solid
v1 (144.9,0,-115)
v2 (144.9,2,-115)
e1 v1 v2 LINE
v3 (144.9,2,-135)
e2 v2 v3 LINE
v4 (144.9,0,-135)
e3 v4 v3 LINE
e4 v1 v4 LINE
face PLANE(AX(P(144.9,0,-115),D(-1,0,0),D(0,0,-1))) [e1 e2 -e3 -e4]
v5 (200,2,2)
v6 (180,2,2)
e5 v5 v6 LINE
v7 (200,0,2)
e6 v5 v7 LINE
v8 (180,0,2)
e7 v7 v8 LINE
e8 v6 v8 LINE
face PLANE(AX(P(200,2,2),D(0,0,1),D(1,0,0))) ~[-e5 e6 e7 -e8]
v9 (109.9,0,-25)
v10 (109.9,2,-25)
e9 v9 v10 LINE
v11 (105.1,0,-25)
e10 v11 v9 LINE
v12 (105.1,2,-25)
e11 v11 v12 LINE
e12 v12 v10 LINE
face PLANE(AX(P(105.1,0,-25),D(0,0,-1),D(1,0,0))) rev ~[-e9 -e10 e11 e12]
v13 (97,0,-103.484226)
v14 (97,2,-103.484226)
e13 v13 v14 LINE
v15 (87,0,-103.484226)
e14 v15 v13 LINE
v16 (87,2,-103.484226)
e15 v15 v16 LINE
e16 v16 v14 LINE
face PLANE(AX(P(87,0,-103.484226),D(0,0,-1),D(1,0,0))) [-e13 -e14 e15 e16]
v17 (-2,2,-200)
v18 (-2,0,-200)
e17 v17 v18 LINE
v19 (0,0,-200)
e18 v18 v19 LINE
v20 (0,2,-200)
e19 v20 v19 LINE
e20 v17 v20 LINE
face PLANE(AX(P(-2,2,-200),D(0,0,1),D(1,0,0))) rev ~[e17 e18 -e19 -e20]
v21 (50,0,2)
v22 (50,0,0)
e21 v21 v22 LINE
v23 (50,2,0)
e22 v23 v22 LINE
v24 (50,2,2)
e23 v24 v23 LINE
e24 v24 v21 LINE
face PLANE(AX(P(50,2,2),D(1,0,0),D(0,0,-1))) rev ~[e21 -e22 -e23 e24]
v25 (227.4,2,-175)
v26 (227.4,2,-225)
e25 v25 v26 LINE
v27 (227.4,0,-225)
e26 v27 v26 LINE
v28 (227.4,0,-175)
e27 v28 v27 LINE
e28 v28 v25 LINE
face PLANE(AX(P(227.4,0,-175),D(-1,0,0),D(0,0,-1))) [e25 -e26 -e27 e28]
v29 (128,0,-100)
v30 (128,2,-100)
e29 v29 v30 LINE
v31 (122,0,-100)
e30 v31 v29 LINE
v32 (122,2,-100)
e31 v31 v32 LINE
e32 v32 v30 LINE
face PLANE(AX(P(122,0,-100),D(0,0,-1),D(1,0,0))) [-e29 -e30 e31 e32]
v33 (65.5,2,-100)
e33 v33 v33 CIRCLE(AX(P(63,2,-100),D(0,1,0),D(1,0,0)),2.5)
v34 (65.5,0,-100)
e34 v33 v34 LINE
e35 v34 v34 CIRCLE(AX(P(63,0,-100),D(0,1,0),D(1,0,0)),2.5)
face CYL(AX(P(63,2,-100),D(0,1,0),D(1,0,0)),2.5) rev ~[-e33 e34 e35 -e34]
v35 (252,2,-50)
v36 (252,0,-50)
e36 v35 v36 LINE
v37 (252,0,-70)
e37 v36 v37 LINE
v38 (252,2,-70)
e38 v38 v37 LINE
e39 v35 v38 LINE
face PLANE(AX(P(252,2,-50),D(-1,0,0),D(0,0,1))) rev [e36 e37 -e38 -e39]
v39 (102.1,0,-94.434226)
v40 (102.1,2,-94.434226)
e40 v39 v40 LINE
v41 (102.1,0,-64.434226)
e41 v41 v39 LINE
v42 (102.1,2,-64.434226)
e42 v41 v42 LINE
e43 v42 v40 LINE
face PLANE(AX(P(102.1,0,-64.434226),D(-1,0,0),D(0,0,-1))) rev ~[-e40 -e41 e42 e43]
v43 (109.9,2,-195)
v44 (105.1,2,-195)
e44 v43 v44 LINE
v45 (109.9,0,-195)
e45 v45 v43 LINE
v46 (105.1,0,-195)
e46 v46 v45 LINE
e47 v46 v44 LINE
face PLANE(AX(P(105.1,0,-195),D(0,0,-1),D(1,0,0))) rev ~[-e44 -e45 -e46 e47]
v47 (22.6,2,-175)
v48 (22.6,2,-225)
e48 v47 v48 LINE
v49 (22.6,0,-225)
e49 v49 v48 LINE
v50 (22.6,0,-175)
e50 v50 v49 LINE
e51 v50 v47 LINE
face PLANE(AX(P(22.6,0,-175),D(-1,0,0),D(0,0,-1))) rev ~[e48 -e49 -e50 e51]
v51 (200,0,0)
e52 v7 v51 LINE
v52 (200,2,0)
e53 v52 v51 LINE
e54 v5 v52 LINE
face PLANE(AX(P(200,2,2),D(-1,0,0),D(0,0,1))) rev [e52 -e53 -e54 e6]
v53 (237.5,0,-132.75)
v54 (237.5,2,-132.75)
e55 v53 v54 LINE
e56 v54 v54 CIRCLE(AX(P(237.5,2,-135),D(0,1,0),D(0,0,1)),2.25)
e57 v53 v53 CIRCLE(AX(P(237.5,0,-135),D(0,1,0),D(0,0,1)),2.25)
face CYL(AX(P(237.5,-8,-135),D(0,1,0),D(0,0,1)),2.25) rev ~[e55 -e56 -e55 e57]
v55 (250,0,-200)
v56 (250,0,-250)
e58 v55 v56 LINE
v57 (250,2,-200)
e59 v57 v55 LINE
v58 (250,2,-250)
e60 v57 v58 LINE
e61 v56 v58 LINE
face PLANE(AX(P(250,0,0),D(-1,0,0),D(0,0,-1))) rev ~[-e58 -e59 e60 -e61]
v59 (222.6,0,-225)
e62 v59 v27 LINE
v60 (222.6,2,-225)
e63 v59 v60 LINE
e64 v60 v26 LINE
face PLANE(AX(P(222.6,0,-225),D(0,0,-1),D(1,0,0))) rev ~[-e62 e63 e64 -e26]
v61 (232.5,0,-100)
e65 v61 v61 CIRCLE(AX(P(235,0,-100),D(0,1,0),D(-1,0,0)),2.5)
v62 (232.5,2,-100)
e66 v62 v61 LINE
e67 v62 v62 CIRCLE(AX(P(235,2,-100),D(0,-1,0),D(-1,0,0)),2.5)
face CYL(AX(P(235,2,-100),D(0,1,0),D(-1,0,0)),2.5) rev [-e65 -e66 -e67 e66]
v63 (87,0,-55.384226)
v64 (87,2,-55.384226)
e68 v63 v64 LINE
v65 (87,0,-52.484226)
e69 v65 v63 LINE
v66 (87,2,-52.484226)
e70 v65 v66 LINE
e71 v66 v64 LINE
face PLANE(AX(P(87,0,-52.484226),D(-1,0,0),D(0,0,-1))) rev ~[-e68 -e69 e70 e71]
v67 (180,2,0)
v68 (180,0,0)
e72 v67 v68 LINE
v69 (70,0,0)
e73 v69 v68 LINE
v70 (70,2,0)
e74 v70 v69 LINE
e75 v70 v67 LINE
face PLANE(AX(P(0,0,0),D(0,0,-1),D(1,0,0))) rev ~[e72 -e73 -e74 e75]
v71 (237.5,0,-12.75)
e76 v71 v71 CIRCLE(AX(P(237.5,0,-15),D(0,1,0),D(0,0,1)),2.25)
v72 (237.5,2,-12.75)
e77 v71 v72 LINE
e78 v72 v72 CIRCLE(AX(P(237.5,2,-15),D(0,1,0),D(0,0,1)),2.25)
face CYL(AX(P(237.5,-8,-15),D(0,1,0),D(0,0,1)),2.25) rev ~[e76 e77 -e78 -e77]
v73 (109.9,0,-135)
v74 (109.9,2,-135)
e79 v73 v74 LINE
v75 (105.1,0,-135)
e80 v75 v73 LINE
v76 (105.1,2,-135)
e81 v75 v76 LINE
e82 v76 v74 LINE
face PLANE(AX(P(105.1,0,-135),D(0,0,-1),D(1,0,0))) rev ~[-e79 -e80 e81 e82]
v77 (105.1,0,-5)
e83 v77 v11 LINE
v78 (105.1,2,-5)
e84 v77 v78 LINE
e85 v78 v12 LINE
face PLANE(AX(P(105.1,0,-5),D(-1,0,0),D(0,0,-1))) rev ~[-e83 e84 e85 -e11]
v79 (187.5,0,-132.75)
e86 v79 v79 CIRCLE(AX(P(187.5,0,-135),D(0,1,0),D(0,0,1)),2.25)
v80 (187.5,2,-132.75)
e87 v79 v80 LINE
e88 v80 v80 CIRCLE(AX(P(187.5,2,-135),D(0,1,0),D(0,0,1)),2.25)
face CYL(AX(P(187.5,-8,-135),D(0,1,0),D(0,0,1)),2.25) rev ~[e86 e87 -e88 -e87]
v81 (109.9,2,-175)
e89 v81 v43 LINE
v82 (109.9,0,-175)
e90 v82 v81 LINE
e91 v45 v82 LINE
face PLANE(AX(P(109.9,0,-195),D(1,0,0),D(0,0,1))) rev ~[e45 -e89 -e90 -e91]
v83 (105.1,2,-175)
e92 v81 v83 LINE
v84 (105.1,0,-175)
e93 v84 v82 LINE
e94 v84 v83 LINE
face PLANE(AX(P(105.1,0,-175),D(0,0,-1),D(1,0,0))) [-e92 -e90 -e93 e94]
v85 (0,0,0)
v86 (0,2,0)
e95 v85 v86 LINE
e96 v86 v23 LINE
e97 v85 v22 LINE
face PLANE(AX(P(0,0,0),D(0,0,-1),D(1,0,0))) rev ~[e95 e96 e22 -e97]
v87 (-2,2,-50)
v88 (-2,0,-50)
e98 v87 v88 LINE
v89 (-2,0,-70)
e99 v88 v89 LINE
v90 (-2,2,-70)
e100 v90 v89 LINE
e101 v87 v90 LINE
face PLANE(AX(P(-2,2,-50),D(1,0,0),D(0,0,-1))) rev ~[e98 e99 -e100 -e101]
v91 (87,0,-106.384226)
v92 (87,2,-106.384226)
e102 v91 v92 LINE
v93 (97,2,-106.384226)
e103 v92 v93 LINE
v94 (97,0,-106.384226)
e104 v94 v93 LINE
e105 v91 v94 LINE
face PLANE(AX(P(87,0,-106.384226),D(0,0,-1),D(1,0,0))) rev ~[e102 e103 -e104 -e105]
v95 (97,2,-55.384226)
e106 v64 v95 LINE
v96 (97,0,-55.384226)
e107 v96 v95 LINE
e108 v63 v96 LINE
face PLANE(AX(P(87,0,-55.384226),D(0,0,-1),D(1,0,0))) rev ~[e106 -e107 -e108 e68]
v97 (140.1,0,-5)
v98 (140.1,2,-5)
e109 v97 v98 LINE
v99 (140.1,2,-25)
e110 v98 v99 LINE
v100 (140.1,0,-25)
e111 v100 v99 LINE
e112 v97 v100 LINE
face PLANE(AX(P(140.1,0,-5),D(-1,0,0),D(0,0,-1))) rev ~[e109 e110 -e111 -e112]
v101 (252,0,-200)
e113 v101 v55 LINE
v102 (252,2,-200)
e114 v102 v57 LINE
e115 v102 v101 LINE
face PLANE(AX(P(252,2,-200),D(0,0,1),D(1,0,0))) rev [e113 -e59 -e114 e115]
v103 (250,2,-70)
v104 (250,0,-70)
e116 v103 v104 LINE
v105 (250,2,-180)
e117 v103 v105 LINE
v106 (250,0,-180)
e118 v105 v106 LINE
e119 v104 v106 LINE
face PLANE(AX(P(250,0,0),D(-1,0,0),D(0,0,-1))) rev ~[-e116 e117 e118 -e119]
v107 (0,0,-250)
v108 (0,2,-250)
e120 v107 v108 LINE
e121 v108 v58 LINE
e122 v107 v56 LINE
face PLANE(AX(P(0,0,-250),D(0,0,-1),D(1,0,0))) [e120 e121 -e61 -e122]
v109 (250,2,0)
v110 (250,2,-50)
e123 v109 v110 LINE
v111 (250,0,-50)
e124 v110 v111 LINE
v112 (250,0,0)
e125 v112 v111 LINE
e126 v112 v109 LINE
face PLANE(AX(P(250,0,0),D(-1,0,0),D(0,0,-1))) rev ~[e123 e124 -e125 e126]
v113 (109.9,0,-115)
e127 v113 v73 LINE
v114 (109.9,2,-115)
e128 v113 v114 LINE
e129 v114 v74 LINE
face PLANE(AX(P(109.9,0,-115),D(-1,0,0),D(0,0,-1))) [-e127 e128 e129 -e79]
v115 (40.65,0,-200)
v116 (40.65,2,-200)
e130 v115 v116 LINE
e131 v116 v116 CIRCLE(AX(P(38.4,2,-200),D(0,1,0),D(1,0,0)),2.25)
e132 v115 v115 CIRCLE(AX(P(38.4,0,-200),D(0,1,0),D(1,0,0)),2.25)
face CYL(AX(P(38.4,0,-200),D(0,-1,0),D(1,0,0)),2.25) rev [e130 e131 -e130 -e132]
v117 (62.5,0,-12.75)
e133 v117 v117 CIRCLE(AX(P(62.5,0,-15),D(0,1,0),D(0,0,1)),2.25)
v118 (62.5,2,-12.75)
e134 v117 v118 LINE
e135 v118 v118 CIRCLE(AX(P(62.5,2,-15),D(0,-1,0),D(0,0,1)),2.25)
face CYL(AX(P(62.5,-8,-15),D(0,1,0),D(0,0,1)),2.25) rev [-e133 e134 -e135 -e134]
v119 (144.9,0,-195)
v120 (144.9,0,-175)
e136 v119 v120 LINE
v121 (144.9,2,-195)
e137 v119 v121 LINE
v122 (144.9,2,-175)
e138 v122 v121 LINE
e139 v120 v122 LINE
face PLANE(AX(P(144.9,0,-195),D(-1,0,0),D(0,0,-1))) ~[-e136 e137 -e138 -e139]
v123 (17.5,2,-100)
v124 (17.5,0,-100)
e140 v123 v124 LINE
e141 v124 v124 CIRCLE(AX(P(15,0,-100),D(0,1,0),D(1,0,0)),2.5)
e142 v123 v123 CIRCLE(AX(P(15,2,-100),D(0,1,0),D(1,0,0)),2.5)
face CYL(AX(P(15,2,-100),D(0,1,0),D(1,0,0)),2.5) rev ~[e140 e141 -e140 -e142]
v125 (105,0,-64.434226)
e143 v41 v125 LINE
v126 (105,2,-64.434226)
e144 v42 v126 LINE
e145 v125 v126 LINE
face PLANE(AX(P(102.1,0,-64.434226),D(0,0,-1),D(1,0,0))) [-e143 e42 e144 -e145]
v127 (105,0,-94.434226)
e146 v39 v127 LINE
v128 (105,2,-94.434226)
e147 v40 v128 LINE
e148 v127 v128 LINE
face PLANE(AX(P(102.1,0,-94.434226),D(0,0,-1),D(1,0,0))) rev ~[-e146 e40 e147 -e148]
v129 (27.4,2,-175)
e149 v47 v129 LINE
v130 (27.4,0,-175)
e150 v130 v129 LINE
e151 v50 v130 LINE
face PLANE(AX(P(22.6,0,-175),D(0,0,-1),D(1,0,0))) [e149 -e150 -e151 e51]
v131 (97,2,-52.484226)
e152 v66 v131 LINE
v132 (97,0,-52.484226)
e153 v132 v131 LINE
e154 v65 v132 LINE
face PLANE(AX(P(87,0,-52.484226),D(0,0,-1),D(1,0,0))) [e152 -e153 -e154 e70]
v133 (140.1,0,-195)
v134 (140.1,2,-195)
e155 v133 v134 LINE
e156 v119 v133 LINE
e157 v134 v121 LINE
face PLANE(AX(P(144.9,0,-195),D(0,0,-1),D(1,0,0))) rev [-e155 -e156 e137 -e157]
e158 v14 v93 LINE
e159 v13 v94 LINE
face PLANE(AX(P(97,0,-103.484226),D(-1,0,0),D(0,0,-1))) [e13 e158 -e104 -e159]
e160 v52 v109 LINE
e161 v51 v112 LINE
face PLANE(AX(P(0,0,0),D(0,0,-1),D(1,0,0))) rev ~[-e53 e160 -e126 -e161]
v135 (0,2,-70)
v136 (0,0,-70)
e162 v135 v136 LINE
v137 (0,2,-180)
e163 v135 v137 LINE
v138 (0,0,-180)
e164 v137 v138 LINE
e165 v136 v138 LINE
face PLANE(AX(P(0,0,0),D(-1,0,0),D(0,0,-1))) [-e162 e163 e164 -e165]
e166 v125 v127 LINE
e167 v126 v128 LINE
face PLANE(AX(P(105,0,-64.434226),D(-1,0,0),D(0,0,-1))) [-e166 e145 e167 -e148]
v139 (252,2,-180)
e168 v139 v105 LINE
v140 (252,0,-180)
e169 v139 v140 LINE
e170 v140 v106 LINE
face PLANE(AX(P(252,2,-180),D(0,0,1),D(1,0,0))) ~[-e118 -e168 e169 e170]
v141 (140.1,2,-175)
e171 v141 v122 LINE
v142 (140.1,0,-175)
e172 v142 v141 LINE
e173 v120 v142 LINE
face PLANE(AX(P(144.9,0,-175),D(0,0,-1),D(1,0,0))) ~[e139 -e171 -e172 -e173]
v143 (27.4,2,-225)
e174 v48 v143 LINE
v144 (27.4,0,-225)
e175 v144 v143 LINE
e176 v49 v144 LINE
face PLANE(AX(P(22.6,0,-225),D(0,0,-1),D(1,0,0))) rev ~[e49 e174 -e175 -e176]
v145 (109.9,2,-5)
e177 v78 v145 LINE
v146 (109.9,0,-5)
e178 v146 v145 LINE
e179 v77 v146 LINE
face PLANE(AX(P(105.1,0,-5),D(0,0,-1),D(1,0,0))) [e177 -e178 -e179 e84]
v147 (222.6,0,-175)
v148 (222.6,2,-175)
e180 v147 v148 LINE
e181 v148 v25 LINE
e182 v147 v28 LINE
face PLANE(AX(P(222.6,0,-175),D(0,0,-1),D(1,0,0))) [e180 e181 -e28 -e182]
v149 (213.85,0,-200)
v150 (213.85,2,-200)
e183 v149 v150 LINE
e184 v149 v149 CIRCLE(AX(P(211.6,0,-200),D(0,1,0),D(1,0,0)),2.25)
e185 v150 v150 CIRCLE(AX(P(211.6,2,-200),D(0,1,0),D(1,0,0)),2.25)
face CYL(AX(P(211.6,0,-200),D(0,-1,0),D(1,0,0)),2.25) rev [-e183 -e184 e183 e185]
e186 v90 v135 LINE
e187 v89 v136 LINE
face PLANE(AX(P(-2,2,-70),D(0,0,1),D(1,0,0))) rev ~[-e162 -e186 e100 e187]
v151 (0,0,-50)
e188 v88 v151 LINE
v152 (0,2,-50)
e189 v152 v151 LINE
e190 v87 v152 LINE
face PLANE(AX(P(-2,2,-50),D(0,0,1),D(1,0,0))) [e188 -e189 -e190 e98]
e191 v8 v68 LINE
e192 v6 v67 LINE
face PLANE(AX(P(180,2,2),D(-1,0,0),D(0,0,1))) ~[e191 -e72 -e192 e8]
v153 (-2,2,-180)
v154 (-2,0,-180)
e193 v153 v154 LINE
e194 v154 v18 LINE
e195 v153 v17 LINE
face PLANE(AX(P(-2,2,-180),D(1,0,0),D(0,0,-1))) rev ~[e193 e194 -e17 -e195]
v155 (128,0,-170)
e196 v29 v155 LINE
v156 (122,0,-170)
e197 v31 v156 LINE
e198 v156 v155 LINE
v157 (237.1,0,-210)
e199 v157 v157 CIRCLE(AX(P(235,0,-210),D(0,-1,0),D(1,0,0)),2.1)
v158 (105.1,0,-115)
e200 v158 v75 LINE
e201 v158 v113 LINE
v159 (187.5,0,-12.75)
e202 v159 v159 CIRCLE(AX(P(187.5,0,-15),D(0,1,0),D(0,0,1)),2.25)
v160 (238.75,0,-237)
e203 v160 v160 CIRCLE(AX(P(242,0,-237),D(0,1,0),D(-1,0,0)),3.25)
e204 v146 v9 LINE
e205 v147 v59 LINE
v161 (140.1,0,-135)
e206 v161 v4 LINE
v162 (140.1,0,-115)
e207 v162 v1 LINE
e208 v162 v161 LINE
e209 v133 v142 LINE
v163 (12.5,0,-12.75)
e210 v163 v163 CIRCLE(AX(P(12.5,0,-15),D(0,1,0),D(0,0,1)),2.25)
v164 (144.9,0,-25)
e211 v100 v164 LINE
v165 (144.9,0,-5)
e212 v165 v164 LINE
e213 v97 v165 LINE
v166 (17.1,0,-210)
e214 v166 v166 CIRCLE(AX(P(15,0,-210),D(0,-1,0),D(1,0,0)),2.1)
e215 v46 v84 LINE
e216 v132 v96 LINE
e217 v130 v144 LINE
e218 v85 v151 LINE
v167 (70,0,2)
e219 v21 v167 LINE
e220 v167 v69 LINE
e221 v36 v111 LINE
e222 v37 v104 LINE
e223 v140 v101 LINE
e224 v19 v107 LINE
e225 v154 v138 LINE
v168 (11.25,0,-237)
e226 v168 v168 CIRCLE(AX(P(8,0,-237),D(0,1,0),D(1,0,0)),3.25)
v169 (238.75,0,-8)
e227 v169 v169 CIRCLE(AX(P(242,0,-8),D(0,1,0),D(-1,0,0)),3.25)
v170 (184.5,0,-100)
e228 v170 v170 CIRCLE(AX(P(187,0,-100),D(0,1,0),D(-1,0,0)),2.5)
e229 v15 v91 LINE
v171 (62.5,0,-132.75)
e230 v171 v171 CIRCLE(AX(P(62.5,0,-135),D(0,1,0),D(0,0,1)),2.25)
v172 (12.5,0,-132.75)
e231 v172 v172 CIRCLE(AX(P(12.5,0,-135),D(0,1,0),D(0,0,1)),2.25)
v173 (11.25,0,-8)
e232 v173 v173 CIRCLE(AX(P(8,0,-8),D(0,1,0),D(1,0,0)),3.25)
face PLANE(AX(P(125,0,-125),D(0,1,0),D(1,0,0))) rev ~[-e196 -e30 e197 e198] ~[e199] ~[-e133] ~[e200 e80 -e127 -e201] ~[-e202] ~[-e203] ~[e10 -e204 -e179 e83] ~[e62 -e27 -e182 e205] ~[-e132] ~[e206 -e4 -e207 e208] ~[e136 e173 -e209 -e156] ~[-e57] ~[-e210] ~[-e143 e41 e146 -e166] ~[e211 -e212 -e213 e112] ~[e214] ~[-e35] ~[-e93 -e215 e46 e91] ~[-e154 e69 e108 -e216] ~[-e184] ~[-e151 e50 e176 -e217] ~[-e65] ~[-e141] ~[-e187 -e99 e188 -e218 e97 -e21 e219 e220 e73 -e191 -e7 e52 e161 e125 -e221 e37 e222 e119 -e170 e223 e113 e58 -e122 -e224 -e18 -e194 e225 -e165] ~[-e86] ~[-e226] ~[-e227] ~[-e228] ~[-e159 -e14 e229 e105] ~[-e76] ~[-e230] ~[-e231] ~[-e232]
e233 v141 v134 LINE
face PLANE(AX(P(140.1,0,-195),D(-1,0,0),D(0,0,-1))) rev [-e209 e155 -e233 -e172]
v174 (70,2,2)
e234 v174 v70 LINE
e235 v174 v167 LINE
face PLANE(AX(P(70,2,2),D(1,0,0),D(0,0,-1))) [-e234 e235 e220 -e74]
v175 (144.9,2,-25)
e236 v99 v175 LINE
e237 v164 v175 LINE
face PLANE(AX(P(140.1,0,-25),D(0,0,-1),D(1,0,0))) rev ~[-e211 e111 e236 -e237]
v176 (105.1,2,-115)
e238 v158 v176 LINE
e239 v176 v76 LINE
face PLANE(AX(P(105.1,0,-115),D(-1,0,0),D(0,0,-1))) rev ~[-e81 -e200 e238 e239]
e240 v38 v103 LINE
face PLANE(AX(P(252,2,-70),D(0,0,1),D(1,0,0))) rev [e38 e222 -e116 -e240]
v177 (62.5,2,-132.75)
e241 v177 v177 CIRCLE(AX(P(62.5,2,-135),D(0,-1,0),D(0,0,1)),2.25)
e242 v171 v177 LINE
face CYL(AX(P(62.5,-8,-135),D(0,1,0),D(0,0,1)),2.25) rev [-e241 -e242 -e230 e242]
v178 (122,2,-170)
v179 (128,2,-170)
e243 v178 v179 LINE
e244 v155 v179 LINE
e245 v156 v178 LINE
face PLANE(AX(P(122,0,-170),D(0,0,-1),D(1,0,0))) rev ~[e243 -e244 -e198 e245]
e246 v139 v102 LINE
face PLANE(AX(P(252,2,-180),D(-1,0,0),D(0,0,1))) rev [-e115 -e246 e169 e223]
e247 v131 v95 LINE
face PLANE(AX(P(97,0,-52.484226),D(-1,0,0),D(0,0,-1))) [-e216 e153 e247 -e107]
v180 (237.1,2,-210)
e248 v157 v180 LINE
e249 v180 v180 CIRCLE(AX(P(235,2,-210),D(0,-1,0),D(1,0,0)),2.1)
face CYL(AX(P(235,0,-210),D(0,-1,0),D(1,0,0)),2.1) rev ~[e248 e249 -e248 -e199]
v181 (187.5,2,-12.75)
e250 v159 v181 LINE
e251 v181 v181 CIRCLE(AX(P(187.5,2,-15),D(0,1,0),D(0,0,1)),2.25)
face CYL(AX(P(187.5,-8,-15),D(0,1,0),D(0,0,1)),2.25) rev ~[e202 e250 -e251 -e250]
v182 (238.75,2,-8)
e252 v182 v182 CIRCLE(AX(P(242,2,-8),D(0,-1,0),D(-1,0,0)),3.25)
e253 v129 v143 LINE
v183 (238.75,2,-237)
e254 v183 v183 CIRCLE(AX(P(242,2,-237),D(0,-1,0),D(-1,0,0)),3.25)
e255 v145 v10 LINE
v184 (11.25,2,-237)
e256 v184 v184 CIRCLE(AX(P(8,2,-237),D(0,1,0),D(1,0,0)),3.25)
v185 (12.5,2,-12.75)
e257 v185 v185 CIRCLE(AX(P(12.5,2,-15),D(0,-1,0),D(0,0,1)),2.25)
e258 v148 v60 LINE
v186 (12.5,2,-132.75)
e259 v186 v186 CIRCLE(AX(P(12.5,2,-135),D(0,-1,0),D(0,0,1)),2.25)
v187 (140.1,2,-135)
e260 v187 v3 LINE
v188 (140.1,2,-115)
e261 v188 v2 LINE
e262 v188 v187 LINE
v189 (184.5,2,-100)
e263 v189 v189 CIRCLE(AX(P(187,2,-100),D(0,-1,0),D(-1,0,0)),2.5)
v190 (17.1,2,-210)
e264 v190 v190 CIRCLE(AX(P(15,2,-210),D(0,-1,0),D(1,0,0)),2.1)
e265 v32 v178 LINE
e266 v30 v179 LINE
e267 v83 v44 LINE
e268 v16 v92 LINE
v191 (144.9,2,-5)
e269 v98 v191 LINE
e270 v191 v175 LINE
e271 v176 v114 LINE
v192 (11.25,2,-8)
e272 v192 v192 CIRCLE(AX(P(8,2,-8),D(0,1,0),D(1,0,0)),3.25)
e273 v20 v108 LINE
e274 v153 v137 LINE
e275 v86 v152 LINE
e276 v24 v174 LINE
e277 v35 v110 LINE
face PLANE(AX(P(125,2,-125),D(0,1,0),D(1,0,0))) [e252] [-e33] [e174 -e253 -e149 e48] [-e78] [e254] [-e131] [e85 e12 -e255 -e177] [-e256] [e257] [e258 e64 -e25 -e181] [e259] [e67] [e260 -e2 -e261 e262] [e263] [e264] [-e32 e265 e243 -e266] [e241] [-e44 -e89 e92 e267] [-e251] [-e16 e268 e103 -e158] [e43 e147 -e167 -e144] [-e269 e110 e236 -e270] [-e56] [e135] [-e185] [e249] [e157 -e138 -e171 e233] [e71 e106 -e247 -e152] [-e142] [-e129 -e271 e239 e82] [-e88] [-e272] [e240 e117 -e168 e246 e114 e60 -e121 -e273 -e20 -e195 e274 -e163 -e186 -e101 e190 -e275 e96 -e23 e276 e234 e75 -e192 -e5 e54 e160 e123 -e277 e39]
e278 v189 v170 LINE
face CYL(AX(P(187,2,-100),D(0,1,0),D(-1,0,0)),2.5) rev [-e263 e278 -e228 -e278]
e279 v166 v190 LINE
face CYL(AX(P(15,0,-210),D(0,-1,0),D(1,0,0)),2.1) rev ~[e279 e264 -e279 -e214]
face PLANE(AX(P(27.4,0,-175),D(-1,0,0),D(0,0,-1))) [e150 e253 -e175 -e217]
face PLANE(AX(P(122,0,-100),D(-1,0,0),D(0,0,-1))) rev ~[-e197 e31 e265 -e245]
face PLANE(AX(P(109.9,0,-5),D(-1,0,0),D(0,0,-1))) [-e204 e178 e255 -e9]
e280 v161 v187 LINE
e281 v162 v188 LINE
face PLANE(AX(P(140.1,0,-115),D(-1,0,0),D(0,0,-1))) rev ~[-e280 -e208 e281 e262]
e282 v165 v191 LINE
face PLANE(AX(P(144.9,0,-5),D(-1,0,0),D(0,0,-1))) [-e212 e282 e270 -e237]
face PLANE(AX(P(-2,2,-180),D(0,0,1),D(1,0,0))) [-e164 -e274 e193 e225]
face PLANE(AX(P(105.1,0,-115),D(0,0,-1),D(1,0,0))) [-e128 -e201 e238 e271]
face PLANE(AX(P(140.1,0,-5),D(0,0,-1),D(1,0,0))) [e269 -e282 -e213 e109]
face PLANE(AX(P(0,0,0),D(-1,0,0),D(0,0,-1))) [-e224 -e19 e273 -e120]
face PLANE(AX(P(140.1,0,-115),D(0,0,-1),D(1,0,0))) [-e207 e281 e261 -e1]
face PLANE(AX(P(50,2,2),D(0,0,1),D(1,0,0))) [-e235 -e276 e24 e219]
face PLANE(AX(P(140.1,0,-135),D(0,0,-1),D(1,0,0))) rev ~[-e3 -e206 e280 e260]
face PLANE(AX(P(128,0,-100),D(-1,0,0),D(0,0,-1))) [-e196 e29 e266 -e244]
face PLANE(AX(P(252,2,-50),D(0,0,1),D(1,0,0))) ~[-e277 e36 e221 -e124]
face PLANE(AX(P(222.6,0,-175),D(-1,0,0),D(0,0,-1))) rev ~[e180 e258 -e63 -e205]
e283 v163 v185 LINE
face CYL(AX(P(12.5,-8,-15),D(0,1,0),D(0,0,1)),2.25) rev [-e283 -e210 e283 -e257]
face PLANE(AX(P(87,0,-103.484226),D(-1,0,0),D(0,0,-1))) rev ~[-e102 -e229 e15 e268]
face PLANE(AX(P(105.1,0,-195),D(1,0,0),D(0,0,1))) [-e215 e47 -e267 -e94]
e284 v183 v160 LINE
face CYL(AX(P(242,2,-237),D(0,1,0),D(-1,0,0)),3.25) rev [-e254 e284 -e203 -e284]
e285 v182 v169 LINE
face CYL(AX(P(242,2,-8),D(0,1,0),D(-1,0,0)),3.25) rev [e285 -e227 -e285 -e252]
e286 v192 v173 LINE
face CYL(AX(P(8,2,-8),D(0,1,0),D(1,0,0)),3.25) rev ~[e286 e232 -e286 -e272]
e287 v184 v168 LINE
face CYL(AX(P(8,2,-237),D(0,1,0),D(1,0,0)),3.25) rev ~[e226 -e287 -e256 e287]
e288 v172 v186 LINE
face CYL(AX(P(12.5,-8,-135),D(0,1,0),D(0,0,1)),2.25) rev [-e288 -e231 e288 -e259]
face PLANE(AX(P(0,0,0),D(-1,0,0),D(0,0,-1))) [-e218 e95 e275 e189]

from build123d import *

# Parameters (mm, degrees)
SKETCH1_W                           = 250
SKETCH1_H                           = 250
SKETCH1_W_2                         = 4.8
SKETCH1_H_2                         = 20
SKETCH1_W_3                         = 10
SKETCH1_H_3                         = 2.9
SKETCH1_W_4                         = 2.9
SKETCH1_H_4                         = 30
SKETCH1_H_5                         = 50
SKETCH1_W_5                         = 6
SKETCH1_H_6                         = 70
BOSS_EXTRUDE1_DEPTH                 = 2
SKETCH2_R                           = 2.5
CUT_EXTRUDE1_DEPTH                  = 3
SKETCH3_R                           = 3.25
CUT_EXTRUDE2_DEPTH                  = 3
SKETCH4_W                           = 2
SKETCH4_H                           = 20
SKETCH4_W_2                         = 20
SKETCH4_H_2                         = 2
BOSS_EXTRUDE2_DEPTH                 = 2
F_4_5_4_5_DIAMETER_HOLE1_AT_2_COUNT = 2
F_4_5_4_5_DIAMETER_HOLE1_AT_2_PITCH = 50
F_4_5_4_5_DIAMETER_HOLE1_AT_3_COUNT = 2
F_4_5_4_5_DIAMETER_HOLE1_AT_3_PITCH = 130
F_4_5_4_5_DIAMETER_HOLE1_AT_4_COUNT = 2
F_4_5_4_5_DIAMETER_HOLE1_AT_4_PITCH = 120
SKETCH9_W                           = 4.8
SKETCH9_H                           = 20
CUT_EXTRUDE3_DEPTH                  = 3
SKETCH10_R                          = 2.1
CUT_EXTRUDE4_DEPTH                  = 5
SKETCH_1_R                          = 2.25
CUT_EXTRUDE_1_DEPTH                 = 2
CUT_EXTRUDE_1_DEPTH_BACK            = 10


with BuildPart() as part:
    # Sketch1 → Boss-Extrude1 (new body)
    with BuildSketch(Plane(origin=(0, 0, 0), x_dir=(1, 0, 0), z_dir=(0, 1, 0))):
        with Locations((125, 125)):
            Rectangle(SKETCH1_W, SKETCH1_H)
        with Locations((142.5, 15)):
            Rectangle(SKETCH1_W_2, SKETCH1_H_2, mode=Mode.SUBTRACT)
        with Locations((107.5, 15)):
            Rectangle(SKETCH1_W_2, SKETCH1_H_2, mode=Mode.SUBTRACT)
        with Locations((92, 53.93422616)):
            Rectangle(SKETCH1_W_3, SKETCH1_H_3, mode=Mode.SUBTRACT)
        with Locations((103.55, 79.434226159)):
            Rectangle(SKETCH1_W_4, SKETCH1_H_4, mode=Mode.SUBTRACT)
        with Locations((92, 104.93422616)):
            Rectangle(SKETCH1_W_3, SKETCH1_H_3, mode=Mode.SUBTRACT)
        with Locations((107.5, 125)):
            Rectangle(SKETCH1_W_2, SKETCH1_H_2, mode=Mode.SUBTRACT)
        with Locations((142.5, 125)):
            Rectangle(SKETCH1_W_2, SKETCH1_H_2, mode=Mode.SUBTRACT)
        with Locations((225, 200)):
            Rectangle(SKETCH1_W_2, SKETCH1_H_5, mode=Mode.SUBTRACT)
        with Locations((125, 135)):
            Rectangle(SKETCH1_W_5, SKETCH1_H_6, mode=Mode.SUBTRACT)
        with Locations((25, 200)):
            Rectangle(SKETCH1_W_2, SKETCH1_H_5, mode=Mode.SUBTRACT)
    extrude(amount=BOSS_EXTRUDE1_DEPTH)

    # Sketch2 → Cut-Extrude1 (cut, through all)
    with BuildSketch(Plane(origin=(0, 2, 0), x_dir=(1, 0, 0), z_dir=(0, 1, 0))):
        with Locations((15, 100)):
            Circle(SKETCH2_R)
        with Locations((63, 100)):
            Circle(SKETCH2_R)
    cut_extrude1 = extrude(amount=-CUT_EXTRUDE1_DEPTH, mode=Mode.SUBTRACT)

    # Sketch3 → Cut-Extrude2 (cut, through all)
    with BuildSketch(Plane(origin=(0, 2, 0), x_dir=(1, 0, 0), z_dir=(0, 1, 0))):
        with Locations((8, 8)):
            Circle(SKETCH3_R)
        with Locations((8, 237)):
            Circle(SKETCH3_R)
    cut_extrude2 = extrude(amount=-CUT_EXTRUDE2_DEPTH, mode=Mode.SUBTRACT)

    # Mirror1: Cut-Extrude2 across plane
    add(cut_extrude2.mirror(Plane.ZY.offset(-125)), mode=Mode.SUBTRACT)

    # Sketch4 → Boss-Extrude2 (add)
    with BuildSketch(Plane(origin=(0, 2, 0), x_dir=(1, 0, 0), z_dir=(0, 1, 0))):
        with Locations((-1, 190)):
            Rectangle(SKETCH4_W, SKETCH4_H)
        with Locations((-1, 60)):
            Rectangle(SKETCH4_W, SKETCH4_H)
        with Locations((60, -1)):
            Rectangle(SKETCH4_W_2, SKETCH4_H_2)
    boss_extrude2 = extrude(amount=-BOSS_EXTRUDE2_DEPTH)

    # Mirror2: Boss-Extrude2 across plane
    add(boss_extrude2.mirror(Plane.ZY.offset(-125)))

    # Mirror3: Cut-Extrude1 across plane
    add(cut_extrude1.mirror(Plane.ZY.offset(-125)), mode=Mode.SUBTRACT)

    # Sketch6 → Ø4.5 (4.5) Diameter Hole1 (revolve, cut)
    with BuildSketch(Plane(origin=(12.5, 2, -135), x_dir=(0, 0, 1), z_dir=(1, 0, 0))):
        Polygon((0, 0), (0, 11.351936393), (2.25, 10), (2.25, 0), align=None)
    f_4_5_4_5_diameter_hole1 = revolve(axis=Axis((12.5, 8.35, -135), (0, -1, 0)), mode=Mode.SUBTRACT)

    # Ø4.5 (4.5) Diameter Hole1 at 2: Ø4.5 (4.5) Diameter Hole1 ×2
    with Locations(*[(i * F_4_5_4_5_DIAMETER_HOLE1_AT_2_PITCH, 0, 0) for i in range(1, F_4_5_4_5_DIAMETER_HOLE1_AT_2_COUNT)]):
        add(f_4_5_4_5_diameter_hole1, mode=Mode.SUBTRACT)

    # Ø4.5 (4.5) Diameter Hole1 at 3: Ø4.5 (4.5) Diameter Hole1 ×2
    with Locations(*[Vector(0.384615385, 0, 0.923076923) * (i * F_4_5_4_5_DIAMETER_HOLE1_AT_3_PITCH) for i in range(1, F_4_5_4_5_DIAMETER_HOLE1_AT_3_COUNT)]):
        add(f_4_5_4_5_diameter_hole1, mode=Mode.SUBTRACT)

    # Ø4.5 (4.5) Diameter Hole1 at 4: Ø4.5 (4.5) Diameter Hole1 ×2
    with Locations(*[(0, 0, i * F_4_5_4_5_DIAMETER_HOLE1_AT_4_PITCH) for i in range(1, F_4_5_4_5_DIAMETER_HOLE1_AT_4_COUNT)]):
        add(f_4_5_4_5_diameter_hole1, mode=Mode.SUBTRACT)

    # Mirror4: Ø4.5 (4.5) Diameter Hole1 across plane
    add(f_4_5_4_5_diameter_hole1.mirror(Plane.ZY.offset(-125)), mode=Mode.SUBTRACT)

    # Mirror4 copy 1 sketch → Mirror4 copy 1 (revolve, cut)
    with BuildSketch(Plane(origin=(187.5, 2, -135), x_dir=(0, 0, 1), z_dir=(-1, 0, 0))):
        Polygon((0, 0), (0, -11.351936393), (2.25, -10), (2.25, 0), align=None)
    revolve(axis=Axis((187.5, 8.35, -135), (0, 1, 0)), mode=Mode.SUBTRACT)

    # Mirror4 copy 2 sketch → Mirror4 copy 2 (revolve, cut)
    with BuildSketch(Plane(origin=(187.5, 2, -15), x_dir=(0, 0, 1), z_dir=(-1, 0, 0))):
        Polygon((0, 0), (0, -11.351936393), (2.25, -10), (2.25, 0), align=None)
    revolve(axis=Axis((187.5, 8.35, -15), (0, 1, 0)), mode=Mode.SUBTRACT)

    # Mirror4 copy 3 sketch → Mirror4 copy 3 (revolve, cut)
    with BuildSketch(Plane(origin=(237.5, 2, -15), x_dir=(0, 0, 1), z_dir=(-1, 0, 0))):
        Polygon((0, 0), (0, -11.351936393), (2.25, -10), (2.25, 0), align=None)
    revolve(axis=Axis((237.5, 8.35, -15), (0, 1, 0)), mode=Mode.SUBTRACT)

    # Sketch9 → Cut-Extrude3 (cut, through all)
    with BuildSketch(Plane.XZ):
        with Locations((107.5, -185)):
            Rectangle(SKETCH9_W, SKETCH9_H)
    cut_extrude3 = extrude(amount=-CUT_EXTRUDE3_DEPTH, mode=Mode.SUBTRACT)

    # Mirror5: Cut-Extrude3 across plane
    add(cut_extrude3.mirror(Plane.ZY.offset(-125)), mode=Mode.SUBTRACT)

    # Sketch10 → Cut-Extrude4 (cut)
    with BuildSketch(Plane.XZ):
        with Locations((15, -210)):
            Circle(SKETCH10_R)
        with Locations((235, -210)):
            Circle(SKETCH10_R)
    extrude(amount=-CUT_EXTRUDE4_DEPTH, mode=Mode.SUBTRACT)

    # 草图1 → 切除-拉伸1 (cut, two sides)
    with BuildSketch(Plane(origin=(0, 0, 0), x_dir=(1, 0, 0), z_dir=(0, 1, 0))) as cut_extrude_1_sk:
        with Locations((38.4, 200)):
            Circle(SKETCH_1_R)
        with Locations((211.6, 200)):
            Circle(SKETCH_1_R)
    extrude(amount=CUT_EXTRUDE_1_DEPTH, mode=Mode.SUBTRACT)
    extrude(cut_extrude_1_sk.sketch, amount=-CUT_EXTRUDE_1_DEPTH_BACK, mode=Mode.SUBTRACT)


solid = part.part
